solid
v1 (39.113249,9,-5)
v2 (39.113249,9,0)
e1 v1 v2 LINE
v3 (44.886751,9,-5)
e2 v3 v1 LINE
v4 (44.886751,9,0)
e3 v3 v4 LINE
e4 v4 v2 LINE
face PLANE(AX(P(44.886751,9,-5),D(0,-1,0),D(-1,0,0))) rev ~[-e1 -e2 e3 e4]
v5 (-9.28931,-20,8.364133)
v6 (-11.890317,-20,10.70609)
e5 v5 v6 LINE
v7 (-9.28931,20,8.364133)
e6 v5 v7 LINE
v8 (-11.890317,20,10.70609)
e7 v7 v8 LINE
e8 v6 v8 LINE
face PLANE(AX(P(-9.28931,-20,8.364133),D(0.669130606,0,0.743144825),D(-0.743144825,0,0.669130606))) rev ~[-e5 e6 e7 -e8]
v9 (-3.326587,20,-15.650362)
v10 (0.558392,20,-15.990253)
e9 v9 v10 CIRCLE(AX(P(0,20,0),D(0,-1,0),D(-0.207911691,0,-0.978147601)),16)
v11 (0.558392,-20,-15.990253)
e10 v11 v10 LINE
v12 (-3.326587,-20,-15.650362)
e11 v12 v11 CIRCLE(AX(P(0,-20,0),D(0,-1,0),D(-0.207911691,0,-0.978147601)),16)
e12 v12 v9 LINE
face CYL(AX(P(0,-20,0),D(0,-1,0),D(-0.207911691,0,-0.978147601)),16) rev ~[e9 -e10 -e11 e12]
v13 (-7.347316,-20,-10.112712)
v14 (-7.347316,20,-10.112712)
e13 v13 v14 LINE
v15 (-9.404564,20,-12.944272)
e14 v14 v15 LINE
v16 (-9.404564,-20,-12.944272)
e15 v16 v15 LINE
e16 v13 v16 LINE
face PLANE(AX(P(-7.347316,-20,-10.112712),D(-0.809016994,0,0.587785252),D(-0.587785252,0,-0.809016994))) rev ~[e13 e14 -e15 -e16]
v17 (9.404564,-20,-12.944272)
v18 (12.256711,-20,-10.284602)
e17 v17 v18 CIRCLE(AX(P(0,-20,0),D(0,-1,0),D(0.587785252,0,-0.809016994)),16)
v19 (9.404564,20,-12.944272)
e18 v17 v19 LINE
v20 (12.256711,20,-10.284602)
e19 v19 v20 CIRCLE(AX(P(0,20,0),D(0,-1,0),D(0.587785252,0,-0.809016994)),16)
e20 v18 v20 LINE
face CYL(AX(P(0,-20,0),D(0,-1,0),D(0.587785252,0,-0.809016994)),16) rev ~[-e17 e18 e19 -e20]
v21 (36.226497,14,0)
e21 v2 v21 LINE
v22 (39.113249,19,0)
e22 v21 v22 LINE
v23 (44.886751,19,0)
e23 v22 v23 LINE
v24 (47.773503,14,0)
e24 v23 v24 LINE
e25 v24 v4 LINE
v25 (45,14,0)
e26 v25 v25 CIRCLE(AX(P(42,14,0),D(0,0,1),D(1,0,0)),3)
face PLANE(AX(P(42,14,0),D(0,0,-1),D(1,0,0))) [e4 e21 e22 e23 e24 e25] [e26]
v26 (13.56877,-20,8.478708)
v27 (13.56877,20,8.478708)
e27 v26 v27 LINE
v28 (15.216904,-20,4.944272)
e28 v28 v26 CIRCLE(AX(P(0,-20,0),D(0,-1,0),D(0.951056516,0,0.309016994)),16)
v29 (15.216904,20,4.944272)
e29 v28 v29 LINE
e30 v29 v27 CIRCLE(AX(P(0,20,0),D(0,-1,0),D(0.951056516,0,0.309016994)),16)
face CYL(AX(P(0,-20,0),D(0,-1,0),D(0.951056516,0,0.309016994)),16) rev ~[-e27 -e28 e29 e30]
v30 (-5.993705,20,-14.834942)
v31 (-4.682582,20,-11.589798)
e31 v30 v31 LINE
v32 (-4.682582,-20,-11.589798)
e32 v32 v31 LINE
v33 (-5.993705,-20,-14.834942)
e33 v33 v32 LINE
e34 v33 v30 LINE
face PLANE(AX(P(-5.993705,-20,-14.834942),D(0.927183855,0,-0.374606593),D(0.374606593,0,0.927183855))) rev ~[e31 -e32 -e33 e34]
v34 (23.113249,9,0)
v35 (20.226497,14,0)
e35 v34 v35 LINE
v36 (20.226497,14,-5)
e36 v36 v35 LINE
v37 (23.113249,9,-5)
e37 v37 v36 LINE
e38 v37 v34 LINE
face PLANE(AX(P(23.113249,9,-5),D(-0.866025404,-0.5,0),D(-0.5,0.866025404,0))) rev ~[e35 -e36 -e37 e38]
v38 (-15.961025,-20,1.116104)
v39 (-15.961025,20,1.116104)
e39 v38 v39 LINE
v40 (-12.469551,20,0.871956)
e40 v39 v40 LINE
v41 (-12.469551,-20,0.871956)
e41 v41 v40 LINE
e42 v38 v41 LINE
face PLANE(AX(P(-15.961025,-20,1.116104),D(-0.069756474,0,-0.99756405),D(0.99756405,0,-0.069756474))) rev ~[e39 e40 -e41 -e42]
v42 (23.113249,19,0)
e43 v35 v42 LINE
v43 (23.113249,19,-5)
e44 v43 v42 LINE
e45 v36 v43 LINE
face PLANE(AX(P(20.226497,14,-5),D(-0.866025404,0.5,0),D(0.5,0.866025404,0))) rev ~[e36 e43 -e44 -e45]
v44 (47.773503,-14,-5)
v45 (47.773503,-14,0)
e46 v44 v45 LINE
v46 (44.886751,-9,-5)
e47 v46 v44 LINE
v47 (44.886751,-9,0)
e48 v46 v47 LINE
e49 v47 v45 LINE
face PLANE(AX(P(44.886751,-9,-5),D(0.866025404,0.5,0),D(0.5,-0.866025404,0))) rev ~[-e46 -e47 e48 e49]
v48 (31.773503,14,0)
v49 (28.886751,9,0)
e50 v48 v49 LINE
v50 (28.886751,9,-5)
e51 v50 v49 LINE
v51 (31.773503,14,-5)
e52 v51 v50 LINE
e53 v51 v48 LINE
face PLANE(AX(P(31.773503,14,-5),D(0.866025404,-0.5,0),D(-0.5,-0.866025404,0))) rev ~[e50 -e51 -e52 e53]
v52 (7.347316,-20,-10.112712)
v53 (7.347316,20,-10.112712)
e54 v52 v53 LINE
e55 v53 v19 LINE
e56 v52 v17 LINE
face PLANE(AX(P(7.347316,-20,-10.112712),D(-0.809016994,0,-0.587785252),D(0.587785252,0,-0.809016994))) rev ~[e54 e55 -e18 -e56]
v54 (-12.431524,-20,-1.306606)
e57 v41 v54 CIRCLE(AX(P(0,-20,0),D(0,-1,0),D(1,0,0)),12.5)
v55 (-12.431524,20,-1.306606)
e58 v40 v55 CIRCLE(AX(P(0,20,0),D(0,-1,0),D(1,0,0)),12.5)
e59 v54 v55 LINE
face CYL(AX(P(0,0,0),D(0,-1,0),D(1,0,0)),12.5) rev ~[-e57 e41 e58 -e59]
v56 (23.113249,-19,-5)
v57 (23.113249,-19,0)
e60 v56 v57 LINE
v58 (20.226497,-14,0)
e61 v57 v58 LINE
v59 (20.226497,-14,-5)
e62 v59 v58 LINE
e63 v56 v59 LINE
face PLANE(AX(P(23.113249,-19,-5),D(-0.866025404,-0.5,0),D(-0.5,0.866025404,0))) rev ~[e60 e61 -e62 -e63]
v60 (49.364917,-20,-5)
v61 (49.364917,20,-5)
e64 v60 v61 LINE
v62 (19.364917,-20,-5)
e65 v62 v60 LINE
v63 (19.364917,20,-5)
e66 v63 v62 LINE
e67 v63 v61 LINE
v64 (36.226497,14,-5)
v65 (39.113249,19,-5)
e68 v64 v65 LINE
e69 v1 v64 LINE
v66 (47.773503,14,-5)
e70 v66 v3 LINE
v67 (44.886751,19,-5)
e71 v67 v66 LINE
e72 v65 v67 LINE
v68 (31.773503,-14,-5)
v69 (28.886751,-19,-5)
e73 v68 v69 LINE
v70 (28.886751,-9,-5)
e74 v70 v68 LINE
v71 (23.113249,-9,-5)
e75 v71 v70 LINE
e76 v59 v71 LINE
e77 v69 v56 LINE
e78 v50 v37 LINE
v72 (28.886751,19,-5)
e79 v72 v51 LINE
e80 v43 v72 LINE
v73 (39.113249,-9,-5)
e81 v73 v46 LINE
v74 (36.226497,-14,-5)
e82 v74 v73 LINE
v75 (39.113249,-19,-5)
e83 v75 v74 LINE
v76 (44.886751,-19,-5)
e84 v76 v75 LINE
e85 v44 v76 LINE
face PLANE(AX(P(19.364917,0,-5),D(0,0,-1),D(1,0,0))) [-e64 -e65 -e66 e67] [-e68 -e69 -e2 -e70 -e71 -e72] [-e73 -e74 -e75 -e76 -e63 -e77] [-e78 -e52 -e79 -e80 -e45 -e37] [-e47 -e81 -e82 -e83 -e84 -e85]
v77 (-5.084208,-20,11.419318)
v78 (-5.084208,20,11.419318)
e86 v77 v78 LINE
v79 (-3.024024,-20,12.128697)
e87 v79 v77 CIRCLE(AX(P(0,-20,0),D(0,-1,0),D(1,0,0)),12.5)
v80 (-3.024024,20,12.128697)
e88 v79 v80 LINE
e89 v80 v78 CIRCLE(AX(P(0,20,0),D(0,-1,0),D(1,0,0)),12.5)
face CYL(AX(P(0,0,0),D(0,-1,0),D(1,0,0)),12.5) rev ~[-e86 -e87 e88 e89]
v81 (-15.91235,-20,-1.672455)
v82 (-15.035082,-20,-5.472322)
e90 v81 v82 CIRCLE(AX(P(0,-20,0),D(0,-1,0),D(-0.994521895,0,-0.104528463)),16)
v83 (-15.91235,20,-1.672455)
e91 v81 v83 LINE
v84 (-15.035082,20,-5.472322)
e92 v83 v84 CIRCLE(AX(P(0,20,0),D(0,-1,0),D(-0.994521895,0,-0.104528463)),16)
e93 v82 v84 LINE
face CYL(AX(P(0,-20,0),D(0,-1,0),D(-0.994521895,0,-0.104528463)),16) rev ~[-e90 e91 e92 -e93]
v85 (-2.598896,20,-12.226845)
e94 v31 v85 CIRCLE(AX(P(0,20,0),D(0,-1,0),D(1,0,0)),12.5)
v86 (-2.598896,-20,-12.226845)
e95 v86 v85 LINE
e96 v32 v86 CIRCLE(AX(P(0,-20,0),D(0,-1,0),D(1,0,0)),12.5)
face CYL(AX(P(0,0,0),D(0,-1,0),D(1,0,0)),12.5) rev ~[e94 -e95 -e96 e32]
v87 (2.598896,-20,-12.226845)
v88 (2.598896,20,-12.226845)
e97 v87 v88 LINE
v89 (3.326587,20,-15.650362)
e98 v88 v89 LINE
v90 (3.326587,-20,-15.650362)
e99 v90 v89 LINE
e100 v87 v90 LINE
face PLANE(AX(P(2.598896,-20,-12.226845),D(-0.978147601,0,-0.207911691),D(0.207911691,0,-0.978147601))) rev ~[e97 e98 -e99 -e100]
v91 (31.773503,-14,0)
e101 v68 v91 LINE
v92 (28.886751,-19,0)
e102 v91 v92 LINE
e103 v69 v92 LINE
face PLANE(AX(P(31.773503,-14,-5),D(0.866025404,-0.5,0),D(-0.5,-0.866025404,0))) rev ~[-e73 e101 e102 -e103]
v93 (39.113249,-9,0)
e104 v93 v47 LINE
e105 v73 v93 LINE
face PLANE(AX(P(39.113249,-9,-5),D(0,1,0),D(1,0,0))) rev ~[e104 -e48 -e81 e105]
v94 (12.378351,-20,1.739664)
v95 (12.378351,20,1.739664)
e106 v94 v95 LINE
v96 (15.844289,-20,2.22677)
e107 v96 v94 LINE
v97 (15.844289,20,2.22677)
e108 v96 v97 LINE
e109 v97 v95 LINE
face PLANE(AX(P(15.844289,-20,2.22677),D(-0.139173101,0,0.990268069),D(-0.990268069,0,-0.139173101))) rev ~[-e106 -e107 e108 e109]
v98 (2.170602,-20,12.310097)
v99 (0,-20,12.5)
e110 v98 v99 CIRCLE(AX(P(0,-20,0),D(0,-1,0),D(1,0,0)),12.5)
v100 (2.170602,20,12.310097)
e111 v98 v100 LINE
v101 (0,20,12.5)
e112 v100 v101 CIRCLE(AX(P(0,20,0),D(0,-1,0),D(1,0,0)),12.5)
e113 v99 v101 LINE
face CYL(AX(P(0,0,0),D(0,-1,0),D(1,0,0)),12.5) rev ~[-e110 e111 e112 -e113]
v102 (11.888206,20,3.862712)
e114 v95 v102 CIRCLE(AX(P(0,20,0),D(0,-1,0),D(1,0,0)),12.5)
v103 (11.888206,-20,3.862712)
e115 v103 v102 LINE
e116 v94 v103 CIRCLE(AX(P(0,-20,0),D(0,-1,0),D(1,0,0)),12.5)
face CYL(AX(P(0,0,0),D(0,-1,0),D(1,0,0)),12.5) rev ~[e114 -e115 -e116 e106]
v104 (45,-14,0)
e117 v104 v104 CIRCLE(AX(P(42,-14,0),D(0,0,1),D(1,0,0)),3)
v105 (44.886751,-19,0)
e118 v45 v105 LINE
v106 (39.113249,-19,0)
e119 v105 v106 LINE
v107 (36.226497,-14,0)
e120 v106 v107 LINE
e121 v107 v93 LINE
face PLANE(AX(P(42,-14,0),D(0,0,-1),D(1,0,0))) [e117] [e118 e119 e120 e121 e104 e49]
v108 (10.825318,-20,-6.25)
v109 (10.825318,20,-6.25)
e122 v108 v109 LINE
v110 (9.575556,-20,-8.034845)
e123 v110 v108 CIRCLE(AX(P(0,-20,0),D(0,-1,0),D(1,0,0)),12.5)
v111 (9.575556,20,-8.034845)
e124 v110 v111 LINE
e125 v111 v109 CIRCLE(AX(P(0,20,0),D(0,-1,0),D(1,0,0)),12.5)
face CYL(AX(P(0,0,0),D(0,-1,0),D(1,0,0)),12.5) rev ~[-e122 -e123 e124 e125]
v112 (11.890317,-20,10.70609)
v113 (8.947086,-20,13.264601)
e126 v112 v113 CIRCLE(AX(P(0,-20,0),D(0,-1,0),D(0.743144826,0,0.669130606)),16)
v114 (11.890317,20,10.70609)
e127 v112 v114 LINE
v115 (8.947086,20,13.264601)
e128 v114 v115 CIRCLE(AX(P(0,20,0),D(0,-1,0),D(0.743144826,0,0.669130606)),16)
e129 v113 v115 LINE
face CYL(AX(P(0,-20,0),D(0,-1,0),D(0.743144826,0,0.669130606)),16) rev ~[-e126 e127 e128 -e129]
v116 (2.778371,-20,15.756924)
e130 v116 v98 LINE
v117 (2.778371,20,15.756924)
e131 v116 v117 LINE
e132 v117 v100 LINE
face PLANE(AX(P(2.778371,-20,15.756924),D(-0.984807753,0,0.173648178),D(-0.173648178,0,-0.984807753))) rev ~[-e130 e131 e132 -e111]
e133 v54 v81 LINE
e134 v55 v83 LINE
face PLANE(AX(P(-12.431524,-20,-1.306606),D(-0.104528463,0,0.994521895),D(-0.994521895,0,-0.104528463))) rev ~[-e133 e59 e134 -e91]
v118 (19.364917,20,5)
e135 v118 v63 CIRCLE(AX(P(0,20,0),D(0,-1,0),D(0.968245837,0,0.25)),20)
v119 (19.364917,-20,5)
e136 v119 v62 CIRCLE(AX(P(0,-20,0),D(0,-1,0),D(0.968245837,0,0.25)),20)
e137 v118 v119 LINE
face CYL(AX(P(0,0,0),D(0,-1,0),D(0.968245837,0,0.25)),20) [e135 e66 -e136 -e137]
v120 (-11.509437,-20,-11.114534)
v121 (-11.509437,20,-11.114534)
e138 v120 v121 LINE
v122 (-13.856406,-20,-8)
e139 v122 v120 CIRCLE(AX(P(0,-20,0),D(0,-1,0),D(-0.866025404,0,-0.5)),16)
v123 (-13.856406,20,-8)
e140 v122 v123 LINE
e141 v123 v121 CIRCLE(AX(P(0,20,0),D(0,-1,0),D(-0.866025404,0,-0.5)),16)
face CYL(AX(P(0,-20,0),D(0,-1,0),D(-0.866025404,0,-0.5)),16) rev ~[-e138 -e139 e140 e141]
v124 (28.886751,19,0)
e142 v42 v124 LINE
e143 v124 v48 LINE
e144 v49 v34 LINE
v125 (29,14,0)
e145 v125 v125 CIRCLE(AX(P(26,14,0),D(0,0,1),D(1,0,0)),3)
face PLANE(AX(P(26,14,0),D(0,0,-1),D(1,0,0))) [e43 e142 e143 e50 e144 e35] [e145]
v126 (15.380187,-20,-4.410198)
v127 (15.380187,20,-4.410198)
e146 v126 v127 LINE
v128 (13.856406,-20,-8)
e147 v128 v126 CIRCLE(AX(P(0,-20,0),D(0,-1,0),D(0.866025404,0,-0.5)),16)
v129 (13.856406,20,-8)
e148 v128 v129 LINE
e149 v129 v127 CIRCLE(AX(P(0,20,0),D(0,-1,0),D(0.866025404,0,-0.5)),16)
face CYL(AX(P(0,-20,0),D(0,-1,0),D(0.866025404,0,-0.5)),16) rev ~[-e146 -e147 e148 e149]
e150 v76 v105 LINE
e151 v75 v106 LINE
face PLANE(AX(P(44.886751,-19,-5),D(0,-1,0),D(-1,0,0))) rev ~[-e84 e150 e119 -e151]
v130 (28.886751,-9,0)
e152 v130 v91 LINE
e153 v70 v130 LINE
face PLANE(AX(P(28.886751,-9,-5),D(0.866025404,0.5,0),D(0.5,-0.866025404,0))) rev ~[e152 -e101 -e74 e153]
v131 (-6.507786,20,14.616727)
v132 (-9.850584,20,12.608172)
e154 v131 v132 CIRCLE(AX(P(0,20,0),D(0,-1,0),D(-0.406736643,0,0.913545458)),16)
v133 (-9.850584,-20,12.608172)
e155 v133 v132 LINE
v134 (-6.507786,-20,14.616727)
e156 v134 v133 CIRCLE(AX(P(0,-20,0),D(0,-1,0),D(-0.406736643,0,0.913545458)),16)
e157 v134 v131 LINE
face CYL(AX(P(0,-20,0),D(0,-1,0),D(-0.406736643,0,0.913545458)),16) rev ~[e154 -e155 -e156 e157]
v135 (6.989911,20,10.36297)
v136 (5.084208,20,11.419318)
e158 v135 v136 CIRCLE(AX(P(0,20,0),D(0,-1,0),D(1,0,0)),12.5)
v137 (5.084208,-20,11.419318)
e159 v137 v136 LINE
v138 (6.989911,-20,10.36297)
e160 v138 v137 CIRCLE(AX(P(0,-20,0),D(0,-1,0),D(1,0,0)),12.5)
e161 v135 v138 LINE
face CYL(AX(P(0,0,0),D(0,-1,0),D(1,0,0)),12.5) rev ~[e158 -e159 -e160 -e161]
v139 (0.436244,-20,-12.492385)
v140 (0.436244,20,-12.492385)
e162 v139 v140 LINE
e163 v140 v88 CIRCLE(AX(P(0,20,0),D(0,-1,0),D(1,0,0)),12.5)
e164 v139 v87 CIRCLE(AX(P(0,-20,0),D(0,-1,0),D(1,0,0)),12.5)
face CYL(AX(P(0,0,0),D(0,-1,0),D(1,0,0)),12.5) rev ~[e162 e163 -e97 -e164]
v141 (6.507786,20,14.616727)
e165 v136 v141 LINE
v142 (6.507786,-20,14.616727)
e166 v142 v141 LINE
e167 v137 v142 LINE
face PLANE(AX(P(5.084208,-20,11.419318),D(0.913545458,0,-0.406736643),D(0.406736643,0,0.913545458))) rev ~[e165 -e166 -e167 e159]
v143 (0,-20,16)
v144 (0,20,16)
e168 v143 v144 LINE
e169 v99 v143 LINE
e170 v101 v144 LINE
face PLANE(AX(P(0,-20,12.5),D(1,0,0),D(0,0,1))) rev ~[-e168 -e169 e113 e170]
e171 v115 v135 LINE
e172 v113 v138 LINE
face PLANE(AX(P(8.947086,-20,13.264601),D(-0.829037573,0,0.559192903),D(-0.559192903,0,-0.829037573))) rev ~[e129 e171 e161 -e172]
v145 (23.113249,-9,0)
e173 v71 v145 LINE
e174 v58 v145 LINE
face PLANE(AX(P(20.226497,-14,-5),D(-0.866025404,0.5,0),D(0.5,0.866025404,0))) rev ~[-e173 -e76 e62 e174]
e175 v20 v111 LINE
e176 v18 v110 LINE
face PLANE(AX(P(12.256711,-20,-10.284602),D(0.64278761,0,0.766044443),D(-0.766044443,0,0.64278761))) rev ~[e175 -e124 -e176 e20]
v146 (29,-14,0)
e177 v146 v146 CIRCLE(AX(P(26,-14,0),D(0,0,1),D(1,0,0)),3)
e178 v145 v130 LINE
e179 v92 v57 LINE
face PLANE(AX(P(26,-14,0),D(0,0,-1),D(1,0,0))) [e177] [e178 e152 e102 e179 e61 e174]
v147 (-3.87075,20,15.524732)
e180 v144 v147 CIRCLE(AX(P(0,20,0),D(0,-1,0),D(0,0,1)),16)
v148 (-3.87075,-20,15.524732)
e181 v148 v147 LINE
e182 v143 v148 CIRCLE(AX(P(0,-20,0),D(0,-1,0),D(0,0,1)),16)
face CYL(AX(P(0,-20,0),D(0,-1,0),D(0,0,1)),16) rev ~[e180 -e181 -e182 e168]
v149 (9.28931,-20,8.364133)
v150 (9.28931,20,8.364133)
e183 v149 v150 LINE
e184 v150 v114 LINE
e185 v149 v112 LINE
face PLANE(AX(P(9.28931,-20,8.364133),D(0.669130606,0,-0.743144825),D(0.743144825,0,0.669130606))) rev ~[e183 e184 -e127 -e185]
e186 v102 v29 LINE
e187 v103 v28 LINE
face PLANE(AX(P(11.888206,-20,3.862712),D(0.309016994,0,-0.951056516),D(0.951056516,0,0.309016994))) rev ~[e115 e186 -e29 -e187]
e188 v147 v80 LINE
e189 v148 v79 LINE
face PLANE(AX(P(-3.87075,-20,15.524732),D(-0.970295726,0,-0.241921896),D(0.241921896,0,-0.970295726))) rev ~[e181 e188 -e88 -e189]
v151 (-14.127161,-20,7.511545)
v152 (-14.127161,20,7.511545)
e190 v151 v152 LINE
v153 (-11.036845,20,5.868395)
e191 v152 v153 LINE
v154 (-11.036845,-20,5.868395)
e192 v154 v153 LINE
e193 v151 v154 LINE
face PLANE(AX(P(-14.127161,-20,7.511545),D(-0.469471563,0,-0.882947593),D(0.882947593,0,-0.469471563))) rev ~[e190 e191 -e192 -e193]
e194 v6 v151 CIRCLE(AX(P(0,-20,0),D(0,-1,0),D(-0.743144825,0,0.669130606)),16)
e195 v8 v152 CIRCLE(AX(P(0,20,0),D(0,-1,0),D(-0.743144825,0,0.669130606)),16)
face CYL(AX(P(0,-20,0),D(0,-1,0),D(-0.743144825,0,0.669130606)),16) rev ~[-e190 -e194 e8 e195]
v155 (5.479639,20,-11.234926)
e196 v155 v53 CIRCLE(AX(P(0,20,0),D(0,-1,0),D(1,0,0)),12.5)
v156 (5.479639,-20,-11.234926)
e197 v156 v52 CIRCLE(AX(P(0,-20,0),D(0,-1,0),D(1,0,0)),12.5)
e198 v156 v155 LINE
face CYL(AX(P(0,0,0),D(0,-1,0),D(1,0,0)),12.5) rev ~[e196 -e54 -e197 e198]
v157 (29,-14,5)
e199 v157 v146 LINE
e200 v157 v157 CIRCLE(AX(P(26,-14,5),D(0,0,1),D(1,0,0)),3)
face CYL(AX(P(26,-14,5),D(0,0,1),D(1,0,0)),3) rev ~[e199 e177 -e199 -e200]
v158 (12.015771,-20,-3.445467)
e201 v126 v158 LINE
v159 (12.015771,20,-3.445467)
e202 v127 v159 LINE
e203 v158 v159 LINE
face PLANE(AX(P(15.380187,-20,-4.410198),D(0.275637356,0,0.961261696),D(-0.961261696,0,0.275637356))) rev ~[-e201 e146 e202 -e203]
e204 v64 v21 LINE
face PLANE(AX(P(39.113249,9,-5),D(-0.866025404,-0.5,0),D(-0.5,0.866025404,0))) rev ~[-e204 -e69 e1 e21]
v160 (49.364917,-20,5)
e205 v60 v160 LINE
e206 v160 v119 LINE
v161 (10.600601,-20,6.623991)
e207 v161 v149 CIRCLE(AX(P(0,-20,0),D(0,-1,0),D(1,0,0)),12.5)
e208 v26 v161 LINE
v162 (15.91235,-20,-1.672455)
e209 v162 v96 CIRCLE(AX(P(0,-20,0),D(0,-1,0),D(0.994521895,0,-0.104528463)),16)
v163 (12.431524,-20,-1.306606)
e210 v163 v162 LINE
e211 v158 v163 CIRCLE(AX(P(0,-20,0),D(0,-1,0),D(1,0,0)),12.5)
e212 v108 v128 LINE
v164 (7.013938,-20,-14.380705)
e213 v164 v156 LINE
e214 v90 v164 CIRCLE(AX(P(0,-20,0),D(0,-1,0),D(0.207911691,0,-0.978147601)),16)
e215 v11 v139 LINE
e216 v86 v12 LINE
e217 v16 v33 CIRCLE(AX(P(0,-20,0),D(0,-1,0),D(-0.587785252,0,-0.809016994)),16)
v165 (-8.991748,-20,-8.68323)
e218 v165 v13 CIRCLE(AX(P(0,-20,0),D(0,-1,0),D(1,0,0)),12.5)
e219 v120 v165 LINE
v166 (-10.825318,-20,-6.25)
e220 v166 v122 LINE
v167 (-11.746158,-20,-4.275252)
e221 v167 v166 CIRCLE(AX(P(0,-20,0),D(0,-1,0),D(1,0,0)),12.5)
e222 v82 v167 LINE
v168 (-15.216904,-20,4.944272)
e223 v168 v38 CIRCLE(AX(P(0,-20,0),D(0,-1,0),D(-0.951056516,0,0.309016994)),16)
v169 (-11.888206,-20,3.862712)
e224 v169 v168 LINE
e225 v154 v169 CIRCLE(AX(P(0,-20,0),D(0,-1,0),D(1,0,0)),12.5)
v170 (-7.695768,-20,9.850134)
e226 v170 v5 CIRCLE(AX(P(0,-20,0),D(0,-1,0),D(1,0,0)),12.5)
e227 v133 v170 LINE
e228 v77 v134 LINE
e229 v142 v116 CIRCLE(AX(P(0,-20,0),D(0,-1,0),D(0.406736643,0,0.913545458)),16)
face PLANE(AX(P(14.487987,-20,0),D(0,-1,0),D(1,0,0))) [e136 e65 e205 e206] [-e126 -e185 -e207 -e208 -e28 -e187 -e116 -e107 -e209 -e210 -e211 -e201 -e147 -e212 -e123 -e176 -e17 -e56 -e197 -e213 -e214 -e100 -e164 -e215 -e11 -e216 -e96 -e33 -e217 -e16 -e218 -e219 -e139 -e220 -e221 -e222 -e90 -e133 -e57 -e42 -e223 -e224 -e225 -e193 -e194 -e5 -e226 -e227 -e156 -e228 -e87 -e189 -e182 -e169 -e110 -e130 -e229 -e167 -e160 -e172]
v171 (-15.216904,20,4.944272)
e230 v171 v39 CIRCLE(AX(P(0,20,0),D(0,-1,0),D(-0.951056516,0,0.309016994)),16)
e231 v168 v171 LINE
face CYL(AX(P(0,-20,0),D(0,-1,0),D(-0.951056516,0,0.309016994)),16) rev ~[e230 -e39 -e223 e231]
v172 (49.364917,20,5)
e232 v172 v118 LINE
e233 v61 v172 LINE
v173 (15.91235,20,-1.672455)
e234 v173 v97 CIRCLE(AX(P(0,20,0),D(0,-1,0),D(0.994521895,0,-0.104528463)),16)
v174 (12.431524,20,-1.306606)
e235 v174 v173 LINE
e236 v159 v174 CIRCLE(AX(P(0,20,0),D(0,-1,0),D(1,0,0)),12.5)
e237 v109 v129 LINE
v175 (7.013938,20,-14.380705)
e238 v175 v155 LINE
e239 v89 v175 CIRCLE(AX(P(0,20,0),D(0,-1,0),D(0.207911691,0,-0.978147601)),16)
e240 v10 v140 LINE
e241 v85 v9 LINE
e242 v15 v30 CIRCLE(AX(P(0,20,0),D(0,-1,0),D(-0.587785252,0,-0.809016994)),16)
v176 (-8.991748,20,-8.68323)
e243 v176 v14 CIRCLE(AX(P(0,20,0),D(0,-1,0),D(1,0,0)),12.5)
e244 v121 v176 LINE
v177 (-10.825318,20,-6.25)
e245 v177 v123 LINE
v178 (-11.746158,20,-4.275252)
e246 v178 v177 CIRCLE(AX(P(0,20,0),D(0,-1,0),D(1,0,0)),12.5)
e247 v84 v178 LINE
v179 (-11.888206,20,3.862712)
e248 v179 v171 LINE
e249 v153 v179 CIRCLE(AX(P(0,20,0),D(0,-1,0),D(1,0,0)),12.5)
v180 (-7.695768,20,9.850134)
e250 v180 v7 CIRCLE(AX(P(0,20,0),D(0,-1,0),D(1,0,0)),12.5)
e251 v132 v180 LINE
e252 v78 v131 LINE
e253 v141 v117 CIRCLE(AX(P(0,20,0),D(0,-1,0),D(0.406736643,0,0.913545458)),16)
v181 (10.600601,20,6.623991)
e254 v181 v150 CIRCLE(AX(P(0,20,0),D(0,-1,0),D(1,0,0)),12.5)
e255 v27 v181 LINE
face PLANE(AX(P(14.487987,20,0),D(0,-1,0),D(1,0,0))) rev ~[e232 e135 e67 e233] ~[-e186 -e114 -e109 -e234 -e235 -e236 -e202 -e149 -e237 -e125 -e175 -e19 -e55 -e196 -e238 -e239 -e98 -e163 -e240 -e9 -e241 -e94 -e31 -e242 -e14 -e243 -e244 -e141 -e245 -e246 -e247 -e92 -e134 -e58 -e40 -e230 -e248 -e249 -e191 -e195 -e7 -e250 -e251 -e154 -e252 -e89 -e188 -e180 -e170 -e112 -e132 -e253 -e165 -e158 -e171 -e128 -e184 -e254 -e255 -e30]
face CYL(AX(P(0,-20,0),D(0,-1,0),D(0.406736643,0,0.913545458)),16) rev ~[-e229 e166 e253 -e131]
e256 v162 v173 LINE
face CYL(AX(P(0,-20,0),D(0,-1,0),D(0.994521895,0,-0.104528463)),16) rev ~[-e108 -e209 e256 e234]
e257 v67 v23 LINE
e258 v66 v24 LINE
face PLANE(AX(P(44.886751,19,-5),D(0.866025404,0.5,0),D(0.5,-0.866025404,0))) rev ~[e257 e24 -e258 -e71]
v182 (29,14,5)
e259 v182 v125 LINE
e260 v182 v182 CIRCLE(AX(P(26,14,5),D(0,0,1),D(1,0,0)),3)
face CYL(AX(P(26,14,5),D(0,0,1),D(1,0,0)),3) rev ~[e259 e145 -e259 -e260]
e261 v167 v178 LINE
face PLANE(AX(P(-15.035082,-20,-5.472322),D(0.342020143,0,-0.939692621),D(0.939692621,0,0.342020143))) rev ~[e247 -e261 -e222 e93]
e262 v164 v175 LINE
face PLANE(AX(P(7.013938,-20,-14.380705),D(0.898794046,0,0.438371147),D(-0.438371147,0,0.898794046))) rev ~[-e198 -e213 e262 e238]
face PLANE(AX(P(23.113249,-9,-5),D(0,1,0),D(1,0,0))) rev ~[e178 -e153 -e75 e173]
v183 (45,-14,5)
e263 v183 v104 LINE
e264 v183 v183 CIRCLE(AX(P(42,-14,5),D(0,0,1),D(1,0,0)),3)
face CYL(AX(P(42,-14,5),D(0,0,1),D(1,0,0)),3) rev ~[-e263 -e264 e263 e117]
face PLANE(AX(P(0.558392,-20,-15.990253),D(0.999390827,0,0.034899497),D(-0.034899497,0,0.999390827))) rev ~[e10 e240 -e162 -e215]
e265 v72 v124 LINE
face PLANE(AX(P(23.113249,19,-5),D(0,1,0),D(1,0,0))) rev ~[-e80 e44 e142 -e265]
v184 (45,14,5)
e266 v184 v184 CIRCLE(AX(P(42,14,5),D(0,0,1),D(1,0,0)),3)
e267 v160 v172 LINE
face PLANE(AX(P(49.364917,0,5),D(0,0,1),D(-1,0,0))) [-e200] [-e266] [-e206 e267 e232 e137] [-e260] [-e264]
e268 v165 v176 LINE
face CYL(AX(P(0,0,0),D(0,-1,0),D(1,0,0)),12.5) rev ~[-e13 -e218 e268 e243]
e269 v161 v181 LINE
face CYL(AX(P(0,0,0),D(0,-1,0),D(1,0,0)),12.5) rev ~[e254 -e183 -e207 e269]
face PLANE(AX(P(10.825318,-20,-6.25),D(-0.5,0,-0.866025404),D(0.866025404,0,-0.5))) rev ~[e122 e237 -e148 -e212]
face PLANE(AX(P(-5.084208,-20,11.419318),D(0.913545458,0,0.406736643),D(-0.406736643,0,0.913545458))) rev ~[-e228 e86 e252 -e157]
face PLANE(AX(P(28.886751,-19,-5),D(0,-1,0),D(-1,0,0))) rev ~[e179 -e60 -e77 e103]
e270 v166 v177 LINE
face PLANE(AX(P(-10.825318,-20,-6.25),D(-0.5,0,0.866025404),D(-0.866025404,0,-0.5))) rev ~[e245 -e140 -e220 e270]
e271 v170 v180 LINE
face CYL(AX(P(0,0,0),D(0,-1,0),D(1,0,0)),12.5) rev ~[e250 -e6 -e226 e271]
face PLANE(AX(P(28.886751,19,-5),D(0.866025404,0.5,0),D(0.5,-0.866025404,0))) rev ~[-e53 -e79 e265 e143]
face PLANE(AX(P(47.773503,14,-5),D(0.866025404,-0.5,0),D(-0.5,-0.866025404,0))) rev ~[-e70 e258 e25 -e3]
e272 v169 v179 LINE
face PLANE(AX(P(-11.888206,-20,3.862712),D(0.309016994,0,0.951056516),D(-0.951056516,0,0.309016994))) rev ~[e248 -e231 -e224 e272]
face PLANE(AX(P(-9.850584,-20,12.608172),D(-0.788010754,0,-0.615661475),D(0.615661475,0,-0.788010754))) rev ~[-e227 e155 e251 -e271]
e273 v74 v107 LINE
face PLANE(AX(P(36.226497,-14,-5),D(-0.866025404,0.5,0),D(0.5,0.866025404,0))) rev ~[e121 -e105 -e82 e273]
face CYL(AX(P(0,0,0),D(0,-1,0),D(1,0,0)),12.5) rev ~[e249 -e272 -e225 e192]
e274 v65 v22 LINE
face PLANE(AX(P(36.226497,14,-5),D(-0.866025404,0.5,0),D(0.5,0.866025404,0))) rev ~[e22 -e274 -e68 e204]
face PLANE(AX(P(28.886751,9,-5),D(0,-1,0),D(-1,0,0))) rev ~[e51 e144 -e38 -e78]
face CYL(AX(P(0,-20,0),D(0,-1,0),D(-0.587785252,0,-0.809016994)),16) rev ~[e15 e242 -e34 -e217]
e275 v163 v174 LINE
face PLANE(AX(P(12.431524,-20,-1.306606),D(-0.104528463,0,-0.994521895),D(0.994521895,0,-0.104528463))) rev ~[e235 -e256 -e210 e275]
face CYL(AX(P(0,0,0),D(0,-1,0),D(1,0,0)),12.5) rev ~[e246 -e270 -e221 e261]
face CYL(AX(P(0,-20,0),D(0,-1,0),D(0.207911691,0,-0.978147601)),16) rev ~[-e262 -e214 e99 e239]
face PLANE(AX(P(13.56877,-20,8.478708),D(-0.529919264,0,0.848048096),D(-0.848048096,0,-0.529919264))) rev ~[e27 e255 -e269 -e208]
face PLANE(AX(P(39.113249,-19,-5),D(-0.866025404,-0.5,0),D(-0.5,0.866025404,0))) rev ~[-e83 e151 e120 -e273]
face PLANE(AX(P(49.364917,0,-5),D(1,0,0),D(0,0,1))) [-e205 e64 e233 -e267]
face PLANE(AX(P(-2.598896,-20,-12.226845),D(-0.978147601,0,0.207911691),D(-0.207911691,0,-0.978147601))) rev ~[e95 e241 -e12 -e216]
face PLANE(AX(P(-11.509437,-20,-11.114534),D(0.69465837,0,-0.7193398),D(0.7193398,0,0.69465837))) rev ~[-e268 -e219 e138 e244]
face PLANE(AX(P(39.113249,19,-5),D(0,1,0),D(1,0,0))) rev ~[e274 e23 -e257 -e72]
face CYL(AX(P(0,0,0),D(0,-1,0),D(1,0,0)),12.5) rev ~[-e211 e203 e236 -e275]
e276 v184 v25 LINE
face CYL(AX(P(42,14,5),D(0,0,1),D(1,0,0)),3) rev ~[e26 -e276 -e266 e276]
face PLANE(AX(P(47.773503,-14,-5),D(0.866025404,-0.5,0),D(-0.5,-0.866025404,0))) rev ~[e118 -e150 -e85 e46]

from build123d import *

# Parameters (mm, degrees)
F0_R          = 12.5
F1_DEPTH      = 20
F1_DEPTH_BACK = 20
F3_DEPTH      = 40.001
F4_R          = 3
F5_DEPTH      = 25.001
F7_DEPTH      = 5


with BuildPart() as f1:
    # F0 (on Front) → F1 (new body, two sides)
    with BuildSketch(Plane.XZ) as f1_sk:
        with BuildLine():
            Line((49.364916731, 5), (19.364916731, 5))
            ThreePointArc((19.364916731, 5), (-20, 0), (19.364916731, -5))
            Line((19.364916731, -5), (49.364916731, -5))
            Line((49.364916731, -5), (49.364916731, 5))
        make_face()
        Circle(F0_R, mode=Mode.SUBTRACT)
    extrude(amount=F1_DEPTH)
    extrude(f1_sk.sketch, amount=-F1_DEPTH_BACK)

    # F2 (on face) → F3 (cut, through all)
    with BuildSketch(Plane.XZ.offset(20)):
        with BuildLine():
            Line((5.0842080384, 11.4193182205), (6.5077862892, 14.6167273223))
            ThreePointArc((6.5077862892, 14.6167273223), (4.6779472756, 15.3008760954), (2.7783708427, 15.7569240482))
            Line((2.7783708427, 15.7569240482), (2.1706022208, 12.3100969127))
            ThreePointArc((2.1706022208, 12.3100969127), (3.654646309, 11.9538094495), (5.0842080384, 11.4193182205))
        make_face()
        with BuildLine():
            Line((-3.8707503296, 15.5247316204), (-3.024023695, 12.1286965784))
            ThreePointArc((-3.024023695, 12.1286965784), (-1.5233667926, 12.4068268955), (0, 12.5))
            Line((0, 12.5), (0, 16))
            ThreePointArc((0, 16), (-1.9499094945, 15.8807384263), (-3.8707503296, 15.5247316204))
        make_face()
        with BuildLine():
            Line((-9.8505836052, 12.6081720577), (-7.6957684416, 9.8501344201))
            ThreePointArc((-7.6957684416, 9.8501344201), (-6.4379759364, 10.7145912588), (-5.0842080384, 11.4193182205))
            Line((-5.0842080384, 11.4193182205), (-6.5077862892, 14.6167273223))
            ThreePointArc((-6.5077862892, 14.6167273223), (-8.2406091986, 13.7146768112), (-9.8505836052, 12.6081720577))
        make_face()
        with BuildLine():
            Line((-14.1271614857, 7.5115450046), (-11.0368449107, 5.8683945348))
            ThreePointArc((-11.0368449107, 5.8683945348), (-10.2394005536, 7.1697054544), (-9.2893103185, 8.3641325795))
            Line((-9.2893103185, 8.3641325795), (-11.8903172076, 10.7060897017))
            ThreePointArc((-11.8903172076, 10.7060897017), (-13.1064327086, 9.1772229816), (-14.1271614857, 7.5115450046))
        make_face()
        with BuildLine():
            Line((-15.9610248042, 1.1161035799), (-12.4695506282, 0.8719559218))
            ThreePointArc((-12.4695506282, 0.8719559218), (-12.2703397931, 2.3851124422), (-11.8882064537, 3.8627124297))
            Line((-11.8882064537, 3.8627124297), (-15.2169042607, 4.94427191))
            ThreePointArc((-15.2169042607, 4.94427191), (-15.7060349352, 3.052943926), (-15.9610248042, 1.1161035799))
        make_face()
        with BuildLine():
            Line((-15.0350819326, -5.4723222932), (-11.7461577598, -4.2752517916))
            ThreePointArc((-11.7461577598, -4.2752517916), (-12.1796258098, -2.8118881793), (-12.4315236921, -1.3066057908))
            Line((-12.4315236921, -1.3066057908), (-15.9123503259, -1.6724554123))
            ThreePointArc((-15.9123503259, -1.6724554123), (-15.5899210366, -3.5992168695), (-15.0350819326, -5.4723222932))
        make_face()
        with BuildLine():
            Line((-11.5094368054, -11.1145339273), (-8.9917475042, -8.6832296307))
            ThreePointArc((-8.9917475042, -8.6832296307), (-9.9829438756, -7.5226877894), (-10.8253175473, -6.25))
            Line((-10.8253175473, -6.25), (-13.8564064606, -8))
            ThreePointArc((-13.8564064606, -8), (-12.7781681608, -9.6290403704), (-11.5094368054, -11.1145339273))
        make_face()
        with BuildLine():
            Line((-5.9937054947, -14.8349416731), (-4.6825824177, -11.5897981821))
            ThreePointArc((-4.6825824177, -11.5897981821), (-6.0601202531, -10.9327463392), (-7.3473156537, -10.1127124297))
            Line((-7.3473156537, -10.1127124297), (-9.4045640367, -12.94427191))
            ThreePointArc((-9.4045640367, -12.94427191), (-7.7569539239, -13.9939153142), (-5.9937054947, -14.8349416731))
        make_face()
        with BuildLine():
            Line((0.5583919472, -15.9902532323), (0.4362437088, -12.4923853377))
            ThreePointArc((0.4362437088, -12.4923853377), (-1.0894467843, -12.4524337261), (-2.5988961352, -12.2268450092))
            Line((-2.5988961352, -12.2268450092), (-3.3265870531, -15.6503616117))
            ThreePointArc((-3.3265870531, -15.6503616117), (-1.394491884, -15.9391151695), (0.5583919472, -15.9902532323))
        make_face()
        with BuildLine():
            Line((7.0139383486, -14.3807047408), (5.4796393349, -11.2349255787))
            ThreePointArc((5.4796393349, -11.2349255787), (4.0696019307, -11.818982195), (2.5988961352, -12.2268450092))
            Line((2.5988961352, -12.2268450092), (3.3265870531, -15.6503616117))
            ThreePointArc((3.3265870531, -15.6503616117), (5.2090904713, -15.1282972096), (7.0139383486, -14.3807047408))
        make_face()
        with BuildLine():
            Line((12.2567110899, -10.284601755), (9.575555539, -8.0348451211))
            ThreePointArc((9.575555539, -8.0348451211), (8.5249795008, -9.1419212702), (7.3473156537, -10.1127124297))
            Line((7.3473156537, -10.1127124297), (9.4045640367, -12.94427191))
            ThreePointArc((9.4045640367, -12.94427191), (10.911973761, -11.7016592259), (12.2567110899, -10.284601755))
        make_face()
        with BuildLine():
            Line((15.380187135, -4.4101976931), (12.0157711992, -3.4454669477))
            ThreePointArc((12.0157711992, -3.4454669477), (11.5063106682, -4.8841391061), (10.8253175473, -6.25))
            Line((10.8253175473, -6.25), (13.8564064606, -8))
            ThreePointArc((13.8564064606, -8), (14.7280776552, -6.2516980558), (15.380187135, -4.4101976931))
        make_face()
        with BuildLine():
            Line((15.8442890999, 2.2267696154), (12.3783508593, 1.739663762))
            ThreePointArc((12.3783508593, 1.739663762), (12.4980961895, 0.2181550805), (12.4315236921, -1.3066057908))
            Line((12.4315236921, -1.3066057908), (15.9123503259, -1.6724554123))
            ThreePointArc((15.9123503259, -1.6724554123), (15.9975631225, 0.279238503), (15.8442890999, 2.2267696154))
        make_face()
        with BuildLine():
            Line((13.5687695385, 8.4787082277), (10.600601202, 6.6239908029))
            ThreePointArc((10.600601202, 6.6239908029), (11.328847338, 5.2827282718), (11.8882064537, 3.8627124297))
            Line((11.8882064537, 3.8627124297), (15.2169042607, 4.94427191))
            ThreePointArc((15.2169042607, 4.94427191), (14.5009245926, 6.7618921879), (13.5687695385, 8.4787082277))
        make_face()
        with BuildLine():
            Line((8.9470864555, 13.2646011609), (6.9899112934, 10.3629696569))
            ThreePointArc((6.9899112934, 10.3629696569), (8.2007378624, 9.4338697528), (9.2893103185, 8.3641325795))
            Line((9.2893103185, 8.3641325795), (11.8903172076, 10.7060897017))
            ThreePointArc((11.8903172076, 10.7060897017), (10.4969444638, 12.0753532836), (8.9470864555, 13.2646011609))
        make_face()
    extrude(amount=-F3_DEPTH, mode=Mode.SUBTRACT)

    # F4 (on face) → F5 (cut, through all)
    with BuildSketch(Plane.XY.offset(5)):
        with Locations((26, 14)):
            Circle(F4_R)
        with Locations((42, 14)):
            Circle(F4_R)
        with Locations((26, -14)):
            Circle(F4_R)
        with Locations((42, -14)):
            Circle(F4_R)
    extrude(amount=-F5_DEPTH, mode=Mode.SUBTRACT)

    # F6 (on face) → F7 (cut)
    with BuildSketch(Plane(origin=(0, 0, -5), x_dir=(1, 0, 0), z_dir=(0, 0, -1))):
        Polygon((31.7735026919, 14), (28.8867513459, 19), (23.1132486541, 19), (20.2264973081, 14), (23.1132486541, 9), (28.8867513459, 9), align=None)
        Polygon((39.1132486541, 9), (44.8867513459, 9), (47.7735026919, 14), (44.8867513459, 19), (39.1132486541, 19), (36.2264973081, 14), align=None)
        Polygon((39.1132486541, -9), (36.2264973081, -14), (39.1132486541, -19), (44.8867513459, -19), (47.7735026919, -14), (44.8867513459, -9), align=None)
        Polygon((20.2264973081, -14), (23.1132486541, -19), (28.8867513459, -19), (31.7735026919, -14), (28.8867513459, -9), (23.1132486541, -9), align=None)
    extrude(amount=-F7_DEPTH, mode=Mode.SUBTRACT)


solid = f1.part
